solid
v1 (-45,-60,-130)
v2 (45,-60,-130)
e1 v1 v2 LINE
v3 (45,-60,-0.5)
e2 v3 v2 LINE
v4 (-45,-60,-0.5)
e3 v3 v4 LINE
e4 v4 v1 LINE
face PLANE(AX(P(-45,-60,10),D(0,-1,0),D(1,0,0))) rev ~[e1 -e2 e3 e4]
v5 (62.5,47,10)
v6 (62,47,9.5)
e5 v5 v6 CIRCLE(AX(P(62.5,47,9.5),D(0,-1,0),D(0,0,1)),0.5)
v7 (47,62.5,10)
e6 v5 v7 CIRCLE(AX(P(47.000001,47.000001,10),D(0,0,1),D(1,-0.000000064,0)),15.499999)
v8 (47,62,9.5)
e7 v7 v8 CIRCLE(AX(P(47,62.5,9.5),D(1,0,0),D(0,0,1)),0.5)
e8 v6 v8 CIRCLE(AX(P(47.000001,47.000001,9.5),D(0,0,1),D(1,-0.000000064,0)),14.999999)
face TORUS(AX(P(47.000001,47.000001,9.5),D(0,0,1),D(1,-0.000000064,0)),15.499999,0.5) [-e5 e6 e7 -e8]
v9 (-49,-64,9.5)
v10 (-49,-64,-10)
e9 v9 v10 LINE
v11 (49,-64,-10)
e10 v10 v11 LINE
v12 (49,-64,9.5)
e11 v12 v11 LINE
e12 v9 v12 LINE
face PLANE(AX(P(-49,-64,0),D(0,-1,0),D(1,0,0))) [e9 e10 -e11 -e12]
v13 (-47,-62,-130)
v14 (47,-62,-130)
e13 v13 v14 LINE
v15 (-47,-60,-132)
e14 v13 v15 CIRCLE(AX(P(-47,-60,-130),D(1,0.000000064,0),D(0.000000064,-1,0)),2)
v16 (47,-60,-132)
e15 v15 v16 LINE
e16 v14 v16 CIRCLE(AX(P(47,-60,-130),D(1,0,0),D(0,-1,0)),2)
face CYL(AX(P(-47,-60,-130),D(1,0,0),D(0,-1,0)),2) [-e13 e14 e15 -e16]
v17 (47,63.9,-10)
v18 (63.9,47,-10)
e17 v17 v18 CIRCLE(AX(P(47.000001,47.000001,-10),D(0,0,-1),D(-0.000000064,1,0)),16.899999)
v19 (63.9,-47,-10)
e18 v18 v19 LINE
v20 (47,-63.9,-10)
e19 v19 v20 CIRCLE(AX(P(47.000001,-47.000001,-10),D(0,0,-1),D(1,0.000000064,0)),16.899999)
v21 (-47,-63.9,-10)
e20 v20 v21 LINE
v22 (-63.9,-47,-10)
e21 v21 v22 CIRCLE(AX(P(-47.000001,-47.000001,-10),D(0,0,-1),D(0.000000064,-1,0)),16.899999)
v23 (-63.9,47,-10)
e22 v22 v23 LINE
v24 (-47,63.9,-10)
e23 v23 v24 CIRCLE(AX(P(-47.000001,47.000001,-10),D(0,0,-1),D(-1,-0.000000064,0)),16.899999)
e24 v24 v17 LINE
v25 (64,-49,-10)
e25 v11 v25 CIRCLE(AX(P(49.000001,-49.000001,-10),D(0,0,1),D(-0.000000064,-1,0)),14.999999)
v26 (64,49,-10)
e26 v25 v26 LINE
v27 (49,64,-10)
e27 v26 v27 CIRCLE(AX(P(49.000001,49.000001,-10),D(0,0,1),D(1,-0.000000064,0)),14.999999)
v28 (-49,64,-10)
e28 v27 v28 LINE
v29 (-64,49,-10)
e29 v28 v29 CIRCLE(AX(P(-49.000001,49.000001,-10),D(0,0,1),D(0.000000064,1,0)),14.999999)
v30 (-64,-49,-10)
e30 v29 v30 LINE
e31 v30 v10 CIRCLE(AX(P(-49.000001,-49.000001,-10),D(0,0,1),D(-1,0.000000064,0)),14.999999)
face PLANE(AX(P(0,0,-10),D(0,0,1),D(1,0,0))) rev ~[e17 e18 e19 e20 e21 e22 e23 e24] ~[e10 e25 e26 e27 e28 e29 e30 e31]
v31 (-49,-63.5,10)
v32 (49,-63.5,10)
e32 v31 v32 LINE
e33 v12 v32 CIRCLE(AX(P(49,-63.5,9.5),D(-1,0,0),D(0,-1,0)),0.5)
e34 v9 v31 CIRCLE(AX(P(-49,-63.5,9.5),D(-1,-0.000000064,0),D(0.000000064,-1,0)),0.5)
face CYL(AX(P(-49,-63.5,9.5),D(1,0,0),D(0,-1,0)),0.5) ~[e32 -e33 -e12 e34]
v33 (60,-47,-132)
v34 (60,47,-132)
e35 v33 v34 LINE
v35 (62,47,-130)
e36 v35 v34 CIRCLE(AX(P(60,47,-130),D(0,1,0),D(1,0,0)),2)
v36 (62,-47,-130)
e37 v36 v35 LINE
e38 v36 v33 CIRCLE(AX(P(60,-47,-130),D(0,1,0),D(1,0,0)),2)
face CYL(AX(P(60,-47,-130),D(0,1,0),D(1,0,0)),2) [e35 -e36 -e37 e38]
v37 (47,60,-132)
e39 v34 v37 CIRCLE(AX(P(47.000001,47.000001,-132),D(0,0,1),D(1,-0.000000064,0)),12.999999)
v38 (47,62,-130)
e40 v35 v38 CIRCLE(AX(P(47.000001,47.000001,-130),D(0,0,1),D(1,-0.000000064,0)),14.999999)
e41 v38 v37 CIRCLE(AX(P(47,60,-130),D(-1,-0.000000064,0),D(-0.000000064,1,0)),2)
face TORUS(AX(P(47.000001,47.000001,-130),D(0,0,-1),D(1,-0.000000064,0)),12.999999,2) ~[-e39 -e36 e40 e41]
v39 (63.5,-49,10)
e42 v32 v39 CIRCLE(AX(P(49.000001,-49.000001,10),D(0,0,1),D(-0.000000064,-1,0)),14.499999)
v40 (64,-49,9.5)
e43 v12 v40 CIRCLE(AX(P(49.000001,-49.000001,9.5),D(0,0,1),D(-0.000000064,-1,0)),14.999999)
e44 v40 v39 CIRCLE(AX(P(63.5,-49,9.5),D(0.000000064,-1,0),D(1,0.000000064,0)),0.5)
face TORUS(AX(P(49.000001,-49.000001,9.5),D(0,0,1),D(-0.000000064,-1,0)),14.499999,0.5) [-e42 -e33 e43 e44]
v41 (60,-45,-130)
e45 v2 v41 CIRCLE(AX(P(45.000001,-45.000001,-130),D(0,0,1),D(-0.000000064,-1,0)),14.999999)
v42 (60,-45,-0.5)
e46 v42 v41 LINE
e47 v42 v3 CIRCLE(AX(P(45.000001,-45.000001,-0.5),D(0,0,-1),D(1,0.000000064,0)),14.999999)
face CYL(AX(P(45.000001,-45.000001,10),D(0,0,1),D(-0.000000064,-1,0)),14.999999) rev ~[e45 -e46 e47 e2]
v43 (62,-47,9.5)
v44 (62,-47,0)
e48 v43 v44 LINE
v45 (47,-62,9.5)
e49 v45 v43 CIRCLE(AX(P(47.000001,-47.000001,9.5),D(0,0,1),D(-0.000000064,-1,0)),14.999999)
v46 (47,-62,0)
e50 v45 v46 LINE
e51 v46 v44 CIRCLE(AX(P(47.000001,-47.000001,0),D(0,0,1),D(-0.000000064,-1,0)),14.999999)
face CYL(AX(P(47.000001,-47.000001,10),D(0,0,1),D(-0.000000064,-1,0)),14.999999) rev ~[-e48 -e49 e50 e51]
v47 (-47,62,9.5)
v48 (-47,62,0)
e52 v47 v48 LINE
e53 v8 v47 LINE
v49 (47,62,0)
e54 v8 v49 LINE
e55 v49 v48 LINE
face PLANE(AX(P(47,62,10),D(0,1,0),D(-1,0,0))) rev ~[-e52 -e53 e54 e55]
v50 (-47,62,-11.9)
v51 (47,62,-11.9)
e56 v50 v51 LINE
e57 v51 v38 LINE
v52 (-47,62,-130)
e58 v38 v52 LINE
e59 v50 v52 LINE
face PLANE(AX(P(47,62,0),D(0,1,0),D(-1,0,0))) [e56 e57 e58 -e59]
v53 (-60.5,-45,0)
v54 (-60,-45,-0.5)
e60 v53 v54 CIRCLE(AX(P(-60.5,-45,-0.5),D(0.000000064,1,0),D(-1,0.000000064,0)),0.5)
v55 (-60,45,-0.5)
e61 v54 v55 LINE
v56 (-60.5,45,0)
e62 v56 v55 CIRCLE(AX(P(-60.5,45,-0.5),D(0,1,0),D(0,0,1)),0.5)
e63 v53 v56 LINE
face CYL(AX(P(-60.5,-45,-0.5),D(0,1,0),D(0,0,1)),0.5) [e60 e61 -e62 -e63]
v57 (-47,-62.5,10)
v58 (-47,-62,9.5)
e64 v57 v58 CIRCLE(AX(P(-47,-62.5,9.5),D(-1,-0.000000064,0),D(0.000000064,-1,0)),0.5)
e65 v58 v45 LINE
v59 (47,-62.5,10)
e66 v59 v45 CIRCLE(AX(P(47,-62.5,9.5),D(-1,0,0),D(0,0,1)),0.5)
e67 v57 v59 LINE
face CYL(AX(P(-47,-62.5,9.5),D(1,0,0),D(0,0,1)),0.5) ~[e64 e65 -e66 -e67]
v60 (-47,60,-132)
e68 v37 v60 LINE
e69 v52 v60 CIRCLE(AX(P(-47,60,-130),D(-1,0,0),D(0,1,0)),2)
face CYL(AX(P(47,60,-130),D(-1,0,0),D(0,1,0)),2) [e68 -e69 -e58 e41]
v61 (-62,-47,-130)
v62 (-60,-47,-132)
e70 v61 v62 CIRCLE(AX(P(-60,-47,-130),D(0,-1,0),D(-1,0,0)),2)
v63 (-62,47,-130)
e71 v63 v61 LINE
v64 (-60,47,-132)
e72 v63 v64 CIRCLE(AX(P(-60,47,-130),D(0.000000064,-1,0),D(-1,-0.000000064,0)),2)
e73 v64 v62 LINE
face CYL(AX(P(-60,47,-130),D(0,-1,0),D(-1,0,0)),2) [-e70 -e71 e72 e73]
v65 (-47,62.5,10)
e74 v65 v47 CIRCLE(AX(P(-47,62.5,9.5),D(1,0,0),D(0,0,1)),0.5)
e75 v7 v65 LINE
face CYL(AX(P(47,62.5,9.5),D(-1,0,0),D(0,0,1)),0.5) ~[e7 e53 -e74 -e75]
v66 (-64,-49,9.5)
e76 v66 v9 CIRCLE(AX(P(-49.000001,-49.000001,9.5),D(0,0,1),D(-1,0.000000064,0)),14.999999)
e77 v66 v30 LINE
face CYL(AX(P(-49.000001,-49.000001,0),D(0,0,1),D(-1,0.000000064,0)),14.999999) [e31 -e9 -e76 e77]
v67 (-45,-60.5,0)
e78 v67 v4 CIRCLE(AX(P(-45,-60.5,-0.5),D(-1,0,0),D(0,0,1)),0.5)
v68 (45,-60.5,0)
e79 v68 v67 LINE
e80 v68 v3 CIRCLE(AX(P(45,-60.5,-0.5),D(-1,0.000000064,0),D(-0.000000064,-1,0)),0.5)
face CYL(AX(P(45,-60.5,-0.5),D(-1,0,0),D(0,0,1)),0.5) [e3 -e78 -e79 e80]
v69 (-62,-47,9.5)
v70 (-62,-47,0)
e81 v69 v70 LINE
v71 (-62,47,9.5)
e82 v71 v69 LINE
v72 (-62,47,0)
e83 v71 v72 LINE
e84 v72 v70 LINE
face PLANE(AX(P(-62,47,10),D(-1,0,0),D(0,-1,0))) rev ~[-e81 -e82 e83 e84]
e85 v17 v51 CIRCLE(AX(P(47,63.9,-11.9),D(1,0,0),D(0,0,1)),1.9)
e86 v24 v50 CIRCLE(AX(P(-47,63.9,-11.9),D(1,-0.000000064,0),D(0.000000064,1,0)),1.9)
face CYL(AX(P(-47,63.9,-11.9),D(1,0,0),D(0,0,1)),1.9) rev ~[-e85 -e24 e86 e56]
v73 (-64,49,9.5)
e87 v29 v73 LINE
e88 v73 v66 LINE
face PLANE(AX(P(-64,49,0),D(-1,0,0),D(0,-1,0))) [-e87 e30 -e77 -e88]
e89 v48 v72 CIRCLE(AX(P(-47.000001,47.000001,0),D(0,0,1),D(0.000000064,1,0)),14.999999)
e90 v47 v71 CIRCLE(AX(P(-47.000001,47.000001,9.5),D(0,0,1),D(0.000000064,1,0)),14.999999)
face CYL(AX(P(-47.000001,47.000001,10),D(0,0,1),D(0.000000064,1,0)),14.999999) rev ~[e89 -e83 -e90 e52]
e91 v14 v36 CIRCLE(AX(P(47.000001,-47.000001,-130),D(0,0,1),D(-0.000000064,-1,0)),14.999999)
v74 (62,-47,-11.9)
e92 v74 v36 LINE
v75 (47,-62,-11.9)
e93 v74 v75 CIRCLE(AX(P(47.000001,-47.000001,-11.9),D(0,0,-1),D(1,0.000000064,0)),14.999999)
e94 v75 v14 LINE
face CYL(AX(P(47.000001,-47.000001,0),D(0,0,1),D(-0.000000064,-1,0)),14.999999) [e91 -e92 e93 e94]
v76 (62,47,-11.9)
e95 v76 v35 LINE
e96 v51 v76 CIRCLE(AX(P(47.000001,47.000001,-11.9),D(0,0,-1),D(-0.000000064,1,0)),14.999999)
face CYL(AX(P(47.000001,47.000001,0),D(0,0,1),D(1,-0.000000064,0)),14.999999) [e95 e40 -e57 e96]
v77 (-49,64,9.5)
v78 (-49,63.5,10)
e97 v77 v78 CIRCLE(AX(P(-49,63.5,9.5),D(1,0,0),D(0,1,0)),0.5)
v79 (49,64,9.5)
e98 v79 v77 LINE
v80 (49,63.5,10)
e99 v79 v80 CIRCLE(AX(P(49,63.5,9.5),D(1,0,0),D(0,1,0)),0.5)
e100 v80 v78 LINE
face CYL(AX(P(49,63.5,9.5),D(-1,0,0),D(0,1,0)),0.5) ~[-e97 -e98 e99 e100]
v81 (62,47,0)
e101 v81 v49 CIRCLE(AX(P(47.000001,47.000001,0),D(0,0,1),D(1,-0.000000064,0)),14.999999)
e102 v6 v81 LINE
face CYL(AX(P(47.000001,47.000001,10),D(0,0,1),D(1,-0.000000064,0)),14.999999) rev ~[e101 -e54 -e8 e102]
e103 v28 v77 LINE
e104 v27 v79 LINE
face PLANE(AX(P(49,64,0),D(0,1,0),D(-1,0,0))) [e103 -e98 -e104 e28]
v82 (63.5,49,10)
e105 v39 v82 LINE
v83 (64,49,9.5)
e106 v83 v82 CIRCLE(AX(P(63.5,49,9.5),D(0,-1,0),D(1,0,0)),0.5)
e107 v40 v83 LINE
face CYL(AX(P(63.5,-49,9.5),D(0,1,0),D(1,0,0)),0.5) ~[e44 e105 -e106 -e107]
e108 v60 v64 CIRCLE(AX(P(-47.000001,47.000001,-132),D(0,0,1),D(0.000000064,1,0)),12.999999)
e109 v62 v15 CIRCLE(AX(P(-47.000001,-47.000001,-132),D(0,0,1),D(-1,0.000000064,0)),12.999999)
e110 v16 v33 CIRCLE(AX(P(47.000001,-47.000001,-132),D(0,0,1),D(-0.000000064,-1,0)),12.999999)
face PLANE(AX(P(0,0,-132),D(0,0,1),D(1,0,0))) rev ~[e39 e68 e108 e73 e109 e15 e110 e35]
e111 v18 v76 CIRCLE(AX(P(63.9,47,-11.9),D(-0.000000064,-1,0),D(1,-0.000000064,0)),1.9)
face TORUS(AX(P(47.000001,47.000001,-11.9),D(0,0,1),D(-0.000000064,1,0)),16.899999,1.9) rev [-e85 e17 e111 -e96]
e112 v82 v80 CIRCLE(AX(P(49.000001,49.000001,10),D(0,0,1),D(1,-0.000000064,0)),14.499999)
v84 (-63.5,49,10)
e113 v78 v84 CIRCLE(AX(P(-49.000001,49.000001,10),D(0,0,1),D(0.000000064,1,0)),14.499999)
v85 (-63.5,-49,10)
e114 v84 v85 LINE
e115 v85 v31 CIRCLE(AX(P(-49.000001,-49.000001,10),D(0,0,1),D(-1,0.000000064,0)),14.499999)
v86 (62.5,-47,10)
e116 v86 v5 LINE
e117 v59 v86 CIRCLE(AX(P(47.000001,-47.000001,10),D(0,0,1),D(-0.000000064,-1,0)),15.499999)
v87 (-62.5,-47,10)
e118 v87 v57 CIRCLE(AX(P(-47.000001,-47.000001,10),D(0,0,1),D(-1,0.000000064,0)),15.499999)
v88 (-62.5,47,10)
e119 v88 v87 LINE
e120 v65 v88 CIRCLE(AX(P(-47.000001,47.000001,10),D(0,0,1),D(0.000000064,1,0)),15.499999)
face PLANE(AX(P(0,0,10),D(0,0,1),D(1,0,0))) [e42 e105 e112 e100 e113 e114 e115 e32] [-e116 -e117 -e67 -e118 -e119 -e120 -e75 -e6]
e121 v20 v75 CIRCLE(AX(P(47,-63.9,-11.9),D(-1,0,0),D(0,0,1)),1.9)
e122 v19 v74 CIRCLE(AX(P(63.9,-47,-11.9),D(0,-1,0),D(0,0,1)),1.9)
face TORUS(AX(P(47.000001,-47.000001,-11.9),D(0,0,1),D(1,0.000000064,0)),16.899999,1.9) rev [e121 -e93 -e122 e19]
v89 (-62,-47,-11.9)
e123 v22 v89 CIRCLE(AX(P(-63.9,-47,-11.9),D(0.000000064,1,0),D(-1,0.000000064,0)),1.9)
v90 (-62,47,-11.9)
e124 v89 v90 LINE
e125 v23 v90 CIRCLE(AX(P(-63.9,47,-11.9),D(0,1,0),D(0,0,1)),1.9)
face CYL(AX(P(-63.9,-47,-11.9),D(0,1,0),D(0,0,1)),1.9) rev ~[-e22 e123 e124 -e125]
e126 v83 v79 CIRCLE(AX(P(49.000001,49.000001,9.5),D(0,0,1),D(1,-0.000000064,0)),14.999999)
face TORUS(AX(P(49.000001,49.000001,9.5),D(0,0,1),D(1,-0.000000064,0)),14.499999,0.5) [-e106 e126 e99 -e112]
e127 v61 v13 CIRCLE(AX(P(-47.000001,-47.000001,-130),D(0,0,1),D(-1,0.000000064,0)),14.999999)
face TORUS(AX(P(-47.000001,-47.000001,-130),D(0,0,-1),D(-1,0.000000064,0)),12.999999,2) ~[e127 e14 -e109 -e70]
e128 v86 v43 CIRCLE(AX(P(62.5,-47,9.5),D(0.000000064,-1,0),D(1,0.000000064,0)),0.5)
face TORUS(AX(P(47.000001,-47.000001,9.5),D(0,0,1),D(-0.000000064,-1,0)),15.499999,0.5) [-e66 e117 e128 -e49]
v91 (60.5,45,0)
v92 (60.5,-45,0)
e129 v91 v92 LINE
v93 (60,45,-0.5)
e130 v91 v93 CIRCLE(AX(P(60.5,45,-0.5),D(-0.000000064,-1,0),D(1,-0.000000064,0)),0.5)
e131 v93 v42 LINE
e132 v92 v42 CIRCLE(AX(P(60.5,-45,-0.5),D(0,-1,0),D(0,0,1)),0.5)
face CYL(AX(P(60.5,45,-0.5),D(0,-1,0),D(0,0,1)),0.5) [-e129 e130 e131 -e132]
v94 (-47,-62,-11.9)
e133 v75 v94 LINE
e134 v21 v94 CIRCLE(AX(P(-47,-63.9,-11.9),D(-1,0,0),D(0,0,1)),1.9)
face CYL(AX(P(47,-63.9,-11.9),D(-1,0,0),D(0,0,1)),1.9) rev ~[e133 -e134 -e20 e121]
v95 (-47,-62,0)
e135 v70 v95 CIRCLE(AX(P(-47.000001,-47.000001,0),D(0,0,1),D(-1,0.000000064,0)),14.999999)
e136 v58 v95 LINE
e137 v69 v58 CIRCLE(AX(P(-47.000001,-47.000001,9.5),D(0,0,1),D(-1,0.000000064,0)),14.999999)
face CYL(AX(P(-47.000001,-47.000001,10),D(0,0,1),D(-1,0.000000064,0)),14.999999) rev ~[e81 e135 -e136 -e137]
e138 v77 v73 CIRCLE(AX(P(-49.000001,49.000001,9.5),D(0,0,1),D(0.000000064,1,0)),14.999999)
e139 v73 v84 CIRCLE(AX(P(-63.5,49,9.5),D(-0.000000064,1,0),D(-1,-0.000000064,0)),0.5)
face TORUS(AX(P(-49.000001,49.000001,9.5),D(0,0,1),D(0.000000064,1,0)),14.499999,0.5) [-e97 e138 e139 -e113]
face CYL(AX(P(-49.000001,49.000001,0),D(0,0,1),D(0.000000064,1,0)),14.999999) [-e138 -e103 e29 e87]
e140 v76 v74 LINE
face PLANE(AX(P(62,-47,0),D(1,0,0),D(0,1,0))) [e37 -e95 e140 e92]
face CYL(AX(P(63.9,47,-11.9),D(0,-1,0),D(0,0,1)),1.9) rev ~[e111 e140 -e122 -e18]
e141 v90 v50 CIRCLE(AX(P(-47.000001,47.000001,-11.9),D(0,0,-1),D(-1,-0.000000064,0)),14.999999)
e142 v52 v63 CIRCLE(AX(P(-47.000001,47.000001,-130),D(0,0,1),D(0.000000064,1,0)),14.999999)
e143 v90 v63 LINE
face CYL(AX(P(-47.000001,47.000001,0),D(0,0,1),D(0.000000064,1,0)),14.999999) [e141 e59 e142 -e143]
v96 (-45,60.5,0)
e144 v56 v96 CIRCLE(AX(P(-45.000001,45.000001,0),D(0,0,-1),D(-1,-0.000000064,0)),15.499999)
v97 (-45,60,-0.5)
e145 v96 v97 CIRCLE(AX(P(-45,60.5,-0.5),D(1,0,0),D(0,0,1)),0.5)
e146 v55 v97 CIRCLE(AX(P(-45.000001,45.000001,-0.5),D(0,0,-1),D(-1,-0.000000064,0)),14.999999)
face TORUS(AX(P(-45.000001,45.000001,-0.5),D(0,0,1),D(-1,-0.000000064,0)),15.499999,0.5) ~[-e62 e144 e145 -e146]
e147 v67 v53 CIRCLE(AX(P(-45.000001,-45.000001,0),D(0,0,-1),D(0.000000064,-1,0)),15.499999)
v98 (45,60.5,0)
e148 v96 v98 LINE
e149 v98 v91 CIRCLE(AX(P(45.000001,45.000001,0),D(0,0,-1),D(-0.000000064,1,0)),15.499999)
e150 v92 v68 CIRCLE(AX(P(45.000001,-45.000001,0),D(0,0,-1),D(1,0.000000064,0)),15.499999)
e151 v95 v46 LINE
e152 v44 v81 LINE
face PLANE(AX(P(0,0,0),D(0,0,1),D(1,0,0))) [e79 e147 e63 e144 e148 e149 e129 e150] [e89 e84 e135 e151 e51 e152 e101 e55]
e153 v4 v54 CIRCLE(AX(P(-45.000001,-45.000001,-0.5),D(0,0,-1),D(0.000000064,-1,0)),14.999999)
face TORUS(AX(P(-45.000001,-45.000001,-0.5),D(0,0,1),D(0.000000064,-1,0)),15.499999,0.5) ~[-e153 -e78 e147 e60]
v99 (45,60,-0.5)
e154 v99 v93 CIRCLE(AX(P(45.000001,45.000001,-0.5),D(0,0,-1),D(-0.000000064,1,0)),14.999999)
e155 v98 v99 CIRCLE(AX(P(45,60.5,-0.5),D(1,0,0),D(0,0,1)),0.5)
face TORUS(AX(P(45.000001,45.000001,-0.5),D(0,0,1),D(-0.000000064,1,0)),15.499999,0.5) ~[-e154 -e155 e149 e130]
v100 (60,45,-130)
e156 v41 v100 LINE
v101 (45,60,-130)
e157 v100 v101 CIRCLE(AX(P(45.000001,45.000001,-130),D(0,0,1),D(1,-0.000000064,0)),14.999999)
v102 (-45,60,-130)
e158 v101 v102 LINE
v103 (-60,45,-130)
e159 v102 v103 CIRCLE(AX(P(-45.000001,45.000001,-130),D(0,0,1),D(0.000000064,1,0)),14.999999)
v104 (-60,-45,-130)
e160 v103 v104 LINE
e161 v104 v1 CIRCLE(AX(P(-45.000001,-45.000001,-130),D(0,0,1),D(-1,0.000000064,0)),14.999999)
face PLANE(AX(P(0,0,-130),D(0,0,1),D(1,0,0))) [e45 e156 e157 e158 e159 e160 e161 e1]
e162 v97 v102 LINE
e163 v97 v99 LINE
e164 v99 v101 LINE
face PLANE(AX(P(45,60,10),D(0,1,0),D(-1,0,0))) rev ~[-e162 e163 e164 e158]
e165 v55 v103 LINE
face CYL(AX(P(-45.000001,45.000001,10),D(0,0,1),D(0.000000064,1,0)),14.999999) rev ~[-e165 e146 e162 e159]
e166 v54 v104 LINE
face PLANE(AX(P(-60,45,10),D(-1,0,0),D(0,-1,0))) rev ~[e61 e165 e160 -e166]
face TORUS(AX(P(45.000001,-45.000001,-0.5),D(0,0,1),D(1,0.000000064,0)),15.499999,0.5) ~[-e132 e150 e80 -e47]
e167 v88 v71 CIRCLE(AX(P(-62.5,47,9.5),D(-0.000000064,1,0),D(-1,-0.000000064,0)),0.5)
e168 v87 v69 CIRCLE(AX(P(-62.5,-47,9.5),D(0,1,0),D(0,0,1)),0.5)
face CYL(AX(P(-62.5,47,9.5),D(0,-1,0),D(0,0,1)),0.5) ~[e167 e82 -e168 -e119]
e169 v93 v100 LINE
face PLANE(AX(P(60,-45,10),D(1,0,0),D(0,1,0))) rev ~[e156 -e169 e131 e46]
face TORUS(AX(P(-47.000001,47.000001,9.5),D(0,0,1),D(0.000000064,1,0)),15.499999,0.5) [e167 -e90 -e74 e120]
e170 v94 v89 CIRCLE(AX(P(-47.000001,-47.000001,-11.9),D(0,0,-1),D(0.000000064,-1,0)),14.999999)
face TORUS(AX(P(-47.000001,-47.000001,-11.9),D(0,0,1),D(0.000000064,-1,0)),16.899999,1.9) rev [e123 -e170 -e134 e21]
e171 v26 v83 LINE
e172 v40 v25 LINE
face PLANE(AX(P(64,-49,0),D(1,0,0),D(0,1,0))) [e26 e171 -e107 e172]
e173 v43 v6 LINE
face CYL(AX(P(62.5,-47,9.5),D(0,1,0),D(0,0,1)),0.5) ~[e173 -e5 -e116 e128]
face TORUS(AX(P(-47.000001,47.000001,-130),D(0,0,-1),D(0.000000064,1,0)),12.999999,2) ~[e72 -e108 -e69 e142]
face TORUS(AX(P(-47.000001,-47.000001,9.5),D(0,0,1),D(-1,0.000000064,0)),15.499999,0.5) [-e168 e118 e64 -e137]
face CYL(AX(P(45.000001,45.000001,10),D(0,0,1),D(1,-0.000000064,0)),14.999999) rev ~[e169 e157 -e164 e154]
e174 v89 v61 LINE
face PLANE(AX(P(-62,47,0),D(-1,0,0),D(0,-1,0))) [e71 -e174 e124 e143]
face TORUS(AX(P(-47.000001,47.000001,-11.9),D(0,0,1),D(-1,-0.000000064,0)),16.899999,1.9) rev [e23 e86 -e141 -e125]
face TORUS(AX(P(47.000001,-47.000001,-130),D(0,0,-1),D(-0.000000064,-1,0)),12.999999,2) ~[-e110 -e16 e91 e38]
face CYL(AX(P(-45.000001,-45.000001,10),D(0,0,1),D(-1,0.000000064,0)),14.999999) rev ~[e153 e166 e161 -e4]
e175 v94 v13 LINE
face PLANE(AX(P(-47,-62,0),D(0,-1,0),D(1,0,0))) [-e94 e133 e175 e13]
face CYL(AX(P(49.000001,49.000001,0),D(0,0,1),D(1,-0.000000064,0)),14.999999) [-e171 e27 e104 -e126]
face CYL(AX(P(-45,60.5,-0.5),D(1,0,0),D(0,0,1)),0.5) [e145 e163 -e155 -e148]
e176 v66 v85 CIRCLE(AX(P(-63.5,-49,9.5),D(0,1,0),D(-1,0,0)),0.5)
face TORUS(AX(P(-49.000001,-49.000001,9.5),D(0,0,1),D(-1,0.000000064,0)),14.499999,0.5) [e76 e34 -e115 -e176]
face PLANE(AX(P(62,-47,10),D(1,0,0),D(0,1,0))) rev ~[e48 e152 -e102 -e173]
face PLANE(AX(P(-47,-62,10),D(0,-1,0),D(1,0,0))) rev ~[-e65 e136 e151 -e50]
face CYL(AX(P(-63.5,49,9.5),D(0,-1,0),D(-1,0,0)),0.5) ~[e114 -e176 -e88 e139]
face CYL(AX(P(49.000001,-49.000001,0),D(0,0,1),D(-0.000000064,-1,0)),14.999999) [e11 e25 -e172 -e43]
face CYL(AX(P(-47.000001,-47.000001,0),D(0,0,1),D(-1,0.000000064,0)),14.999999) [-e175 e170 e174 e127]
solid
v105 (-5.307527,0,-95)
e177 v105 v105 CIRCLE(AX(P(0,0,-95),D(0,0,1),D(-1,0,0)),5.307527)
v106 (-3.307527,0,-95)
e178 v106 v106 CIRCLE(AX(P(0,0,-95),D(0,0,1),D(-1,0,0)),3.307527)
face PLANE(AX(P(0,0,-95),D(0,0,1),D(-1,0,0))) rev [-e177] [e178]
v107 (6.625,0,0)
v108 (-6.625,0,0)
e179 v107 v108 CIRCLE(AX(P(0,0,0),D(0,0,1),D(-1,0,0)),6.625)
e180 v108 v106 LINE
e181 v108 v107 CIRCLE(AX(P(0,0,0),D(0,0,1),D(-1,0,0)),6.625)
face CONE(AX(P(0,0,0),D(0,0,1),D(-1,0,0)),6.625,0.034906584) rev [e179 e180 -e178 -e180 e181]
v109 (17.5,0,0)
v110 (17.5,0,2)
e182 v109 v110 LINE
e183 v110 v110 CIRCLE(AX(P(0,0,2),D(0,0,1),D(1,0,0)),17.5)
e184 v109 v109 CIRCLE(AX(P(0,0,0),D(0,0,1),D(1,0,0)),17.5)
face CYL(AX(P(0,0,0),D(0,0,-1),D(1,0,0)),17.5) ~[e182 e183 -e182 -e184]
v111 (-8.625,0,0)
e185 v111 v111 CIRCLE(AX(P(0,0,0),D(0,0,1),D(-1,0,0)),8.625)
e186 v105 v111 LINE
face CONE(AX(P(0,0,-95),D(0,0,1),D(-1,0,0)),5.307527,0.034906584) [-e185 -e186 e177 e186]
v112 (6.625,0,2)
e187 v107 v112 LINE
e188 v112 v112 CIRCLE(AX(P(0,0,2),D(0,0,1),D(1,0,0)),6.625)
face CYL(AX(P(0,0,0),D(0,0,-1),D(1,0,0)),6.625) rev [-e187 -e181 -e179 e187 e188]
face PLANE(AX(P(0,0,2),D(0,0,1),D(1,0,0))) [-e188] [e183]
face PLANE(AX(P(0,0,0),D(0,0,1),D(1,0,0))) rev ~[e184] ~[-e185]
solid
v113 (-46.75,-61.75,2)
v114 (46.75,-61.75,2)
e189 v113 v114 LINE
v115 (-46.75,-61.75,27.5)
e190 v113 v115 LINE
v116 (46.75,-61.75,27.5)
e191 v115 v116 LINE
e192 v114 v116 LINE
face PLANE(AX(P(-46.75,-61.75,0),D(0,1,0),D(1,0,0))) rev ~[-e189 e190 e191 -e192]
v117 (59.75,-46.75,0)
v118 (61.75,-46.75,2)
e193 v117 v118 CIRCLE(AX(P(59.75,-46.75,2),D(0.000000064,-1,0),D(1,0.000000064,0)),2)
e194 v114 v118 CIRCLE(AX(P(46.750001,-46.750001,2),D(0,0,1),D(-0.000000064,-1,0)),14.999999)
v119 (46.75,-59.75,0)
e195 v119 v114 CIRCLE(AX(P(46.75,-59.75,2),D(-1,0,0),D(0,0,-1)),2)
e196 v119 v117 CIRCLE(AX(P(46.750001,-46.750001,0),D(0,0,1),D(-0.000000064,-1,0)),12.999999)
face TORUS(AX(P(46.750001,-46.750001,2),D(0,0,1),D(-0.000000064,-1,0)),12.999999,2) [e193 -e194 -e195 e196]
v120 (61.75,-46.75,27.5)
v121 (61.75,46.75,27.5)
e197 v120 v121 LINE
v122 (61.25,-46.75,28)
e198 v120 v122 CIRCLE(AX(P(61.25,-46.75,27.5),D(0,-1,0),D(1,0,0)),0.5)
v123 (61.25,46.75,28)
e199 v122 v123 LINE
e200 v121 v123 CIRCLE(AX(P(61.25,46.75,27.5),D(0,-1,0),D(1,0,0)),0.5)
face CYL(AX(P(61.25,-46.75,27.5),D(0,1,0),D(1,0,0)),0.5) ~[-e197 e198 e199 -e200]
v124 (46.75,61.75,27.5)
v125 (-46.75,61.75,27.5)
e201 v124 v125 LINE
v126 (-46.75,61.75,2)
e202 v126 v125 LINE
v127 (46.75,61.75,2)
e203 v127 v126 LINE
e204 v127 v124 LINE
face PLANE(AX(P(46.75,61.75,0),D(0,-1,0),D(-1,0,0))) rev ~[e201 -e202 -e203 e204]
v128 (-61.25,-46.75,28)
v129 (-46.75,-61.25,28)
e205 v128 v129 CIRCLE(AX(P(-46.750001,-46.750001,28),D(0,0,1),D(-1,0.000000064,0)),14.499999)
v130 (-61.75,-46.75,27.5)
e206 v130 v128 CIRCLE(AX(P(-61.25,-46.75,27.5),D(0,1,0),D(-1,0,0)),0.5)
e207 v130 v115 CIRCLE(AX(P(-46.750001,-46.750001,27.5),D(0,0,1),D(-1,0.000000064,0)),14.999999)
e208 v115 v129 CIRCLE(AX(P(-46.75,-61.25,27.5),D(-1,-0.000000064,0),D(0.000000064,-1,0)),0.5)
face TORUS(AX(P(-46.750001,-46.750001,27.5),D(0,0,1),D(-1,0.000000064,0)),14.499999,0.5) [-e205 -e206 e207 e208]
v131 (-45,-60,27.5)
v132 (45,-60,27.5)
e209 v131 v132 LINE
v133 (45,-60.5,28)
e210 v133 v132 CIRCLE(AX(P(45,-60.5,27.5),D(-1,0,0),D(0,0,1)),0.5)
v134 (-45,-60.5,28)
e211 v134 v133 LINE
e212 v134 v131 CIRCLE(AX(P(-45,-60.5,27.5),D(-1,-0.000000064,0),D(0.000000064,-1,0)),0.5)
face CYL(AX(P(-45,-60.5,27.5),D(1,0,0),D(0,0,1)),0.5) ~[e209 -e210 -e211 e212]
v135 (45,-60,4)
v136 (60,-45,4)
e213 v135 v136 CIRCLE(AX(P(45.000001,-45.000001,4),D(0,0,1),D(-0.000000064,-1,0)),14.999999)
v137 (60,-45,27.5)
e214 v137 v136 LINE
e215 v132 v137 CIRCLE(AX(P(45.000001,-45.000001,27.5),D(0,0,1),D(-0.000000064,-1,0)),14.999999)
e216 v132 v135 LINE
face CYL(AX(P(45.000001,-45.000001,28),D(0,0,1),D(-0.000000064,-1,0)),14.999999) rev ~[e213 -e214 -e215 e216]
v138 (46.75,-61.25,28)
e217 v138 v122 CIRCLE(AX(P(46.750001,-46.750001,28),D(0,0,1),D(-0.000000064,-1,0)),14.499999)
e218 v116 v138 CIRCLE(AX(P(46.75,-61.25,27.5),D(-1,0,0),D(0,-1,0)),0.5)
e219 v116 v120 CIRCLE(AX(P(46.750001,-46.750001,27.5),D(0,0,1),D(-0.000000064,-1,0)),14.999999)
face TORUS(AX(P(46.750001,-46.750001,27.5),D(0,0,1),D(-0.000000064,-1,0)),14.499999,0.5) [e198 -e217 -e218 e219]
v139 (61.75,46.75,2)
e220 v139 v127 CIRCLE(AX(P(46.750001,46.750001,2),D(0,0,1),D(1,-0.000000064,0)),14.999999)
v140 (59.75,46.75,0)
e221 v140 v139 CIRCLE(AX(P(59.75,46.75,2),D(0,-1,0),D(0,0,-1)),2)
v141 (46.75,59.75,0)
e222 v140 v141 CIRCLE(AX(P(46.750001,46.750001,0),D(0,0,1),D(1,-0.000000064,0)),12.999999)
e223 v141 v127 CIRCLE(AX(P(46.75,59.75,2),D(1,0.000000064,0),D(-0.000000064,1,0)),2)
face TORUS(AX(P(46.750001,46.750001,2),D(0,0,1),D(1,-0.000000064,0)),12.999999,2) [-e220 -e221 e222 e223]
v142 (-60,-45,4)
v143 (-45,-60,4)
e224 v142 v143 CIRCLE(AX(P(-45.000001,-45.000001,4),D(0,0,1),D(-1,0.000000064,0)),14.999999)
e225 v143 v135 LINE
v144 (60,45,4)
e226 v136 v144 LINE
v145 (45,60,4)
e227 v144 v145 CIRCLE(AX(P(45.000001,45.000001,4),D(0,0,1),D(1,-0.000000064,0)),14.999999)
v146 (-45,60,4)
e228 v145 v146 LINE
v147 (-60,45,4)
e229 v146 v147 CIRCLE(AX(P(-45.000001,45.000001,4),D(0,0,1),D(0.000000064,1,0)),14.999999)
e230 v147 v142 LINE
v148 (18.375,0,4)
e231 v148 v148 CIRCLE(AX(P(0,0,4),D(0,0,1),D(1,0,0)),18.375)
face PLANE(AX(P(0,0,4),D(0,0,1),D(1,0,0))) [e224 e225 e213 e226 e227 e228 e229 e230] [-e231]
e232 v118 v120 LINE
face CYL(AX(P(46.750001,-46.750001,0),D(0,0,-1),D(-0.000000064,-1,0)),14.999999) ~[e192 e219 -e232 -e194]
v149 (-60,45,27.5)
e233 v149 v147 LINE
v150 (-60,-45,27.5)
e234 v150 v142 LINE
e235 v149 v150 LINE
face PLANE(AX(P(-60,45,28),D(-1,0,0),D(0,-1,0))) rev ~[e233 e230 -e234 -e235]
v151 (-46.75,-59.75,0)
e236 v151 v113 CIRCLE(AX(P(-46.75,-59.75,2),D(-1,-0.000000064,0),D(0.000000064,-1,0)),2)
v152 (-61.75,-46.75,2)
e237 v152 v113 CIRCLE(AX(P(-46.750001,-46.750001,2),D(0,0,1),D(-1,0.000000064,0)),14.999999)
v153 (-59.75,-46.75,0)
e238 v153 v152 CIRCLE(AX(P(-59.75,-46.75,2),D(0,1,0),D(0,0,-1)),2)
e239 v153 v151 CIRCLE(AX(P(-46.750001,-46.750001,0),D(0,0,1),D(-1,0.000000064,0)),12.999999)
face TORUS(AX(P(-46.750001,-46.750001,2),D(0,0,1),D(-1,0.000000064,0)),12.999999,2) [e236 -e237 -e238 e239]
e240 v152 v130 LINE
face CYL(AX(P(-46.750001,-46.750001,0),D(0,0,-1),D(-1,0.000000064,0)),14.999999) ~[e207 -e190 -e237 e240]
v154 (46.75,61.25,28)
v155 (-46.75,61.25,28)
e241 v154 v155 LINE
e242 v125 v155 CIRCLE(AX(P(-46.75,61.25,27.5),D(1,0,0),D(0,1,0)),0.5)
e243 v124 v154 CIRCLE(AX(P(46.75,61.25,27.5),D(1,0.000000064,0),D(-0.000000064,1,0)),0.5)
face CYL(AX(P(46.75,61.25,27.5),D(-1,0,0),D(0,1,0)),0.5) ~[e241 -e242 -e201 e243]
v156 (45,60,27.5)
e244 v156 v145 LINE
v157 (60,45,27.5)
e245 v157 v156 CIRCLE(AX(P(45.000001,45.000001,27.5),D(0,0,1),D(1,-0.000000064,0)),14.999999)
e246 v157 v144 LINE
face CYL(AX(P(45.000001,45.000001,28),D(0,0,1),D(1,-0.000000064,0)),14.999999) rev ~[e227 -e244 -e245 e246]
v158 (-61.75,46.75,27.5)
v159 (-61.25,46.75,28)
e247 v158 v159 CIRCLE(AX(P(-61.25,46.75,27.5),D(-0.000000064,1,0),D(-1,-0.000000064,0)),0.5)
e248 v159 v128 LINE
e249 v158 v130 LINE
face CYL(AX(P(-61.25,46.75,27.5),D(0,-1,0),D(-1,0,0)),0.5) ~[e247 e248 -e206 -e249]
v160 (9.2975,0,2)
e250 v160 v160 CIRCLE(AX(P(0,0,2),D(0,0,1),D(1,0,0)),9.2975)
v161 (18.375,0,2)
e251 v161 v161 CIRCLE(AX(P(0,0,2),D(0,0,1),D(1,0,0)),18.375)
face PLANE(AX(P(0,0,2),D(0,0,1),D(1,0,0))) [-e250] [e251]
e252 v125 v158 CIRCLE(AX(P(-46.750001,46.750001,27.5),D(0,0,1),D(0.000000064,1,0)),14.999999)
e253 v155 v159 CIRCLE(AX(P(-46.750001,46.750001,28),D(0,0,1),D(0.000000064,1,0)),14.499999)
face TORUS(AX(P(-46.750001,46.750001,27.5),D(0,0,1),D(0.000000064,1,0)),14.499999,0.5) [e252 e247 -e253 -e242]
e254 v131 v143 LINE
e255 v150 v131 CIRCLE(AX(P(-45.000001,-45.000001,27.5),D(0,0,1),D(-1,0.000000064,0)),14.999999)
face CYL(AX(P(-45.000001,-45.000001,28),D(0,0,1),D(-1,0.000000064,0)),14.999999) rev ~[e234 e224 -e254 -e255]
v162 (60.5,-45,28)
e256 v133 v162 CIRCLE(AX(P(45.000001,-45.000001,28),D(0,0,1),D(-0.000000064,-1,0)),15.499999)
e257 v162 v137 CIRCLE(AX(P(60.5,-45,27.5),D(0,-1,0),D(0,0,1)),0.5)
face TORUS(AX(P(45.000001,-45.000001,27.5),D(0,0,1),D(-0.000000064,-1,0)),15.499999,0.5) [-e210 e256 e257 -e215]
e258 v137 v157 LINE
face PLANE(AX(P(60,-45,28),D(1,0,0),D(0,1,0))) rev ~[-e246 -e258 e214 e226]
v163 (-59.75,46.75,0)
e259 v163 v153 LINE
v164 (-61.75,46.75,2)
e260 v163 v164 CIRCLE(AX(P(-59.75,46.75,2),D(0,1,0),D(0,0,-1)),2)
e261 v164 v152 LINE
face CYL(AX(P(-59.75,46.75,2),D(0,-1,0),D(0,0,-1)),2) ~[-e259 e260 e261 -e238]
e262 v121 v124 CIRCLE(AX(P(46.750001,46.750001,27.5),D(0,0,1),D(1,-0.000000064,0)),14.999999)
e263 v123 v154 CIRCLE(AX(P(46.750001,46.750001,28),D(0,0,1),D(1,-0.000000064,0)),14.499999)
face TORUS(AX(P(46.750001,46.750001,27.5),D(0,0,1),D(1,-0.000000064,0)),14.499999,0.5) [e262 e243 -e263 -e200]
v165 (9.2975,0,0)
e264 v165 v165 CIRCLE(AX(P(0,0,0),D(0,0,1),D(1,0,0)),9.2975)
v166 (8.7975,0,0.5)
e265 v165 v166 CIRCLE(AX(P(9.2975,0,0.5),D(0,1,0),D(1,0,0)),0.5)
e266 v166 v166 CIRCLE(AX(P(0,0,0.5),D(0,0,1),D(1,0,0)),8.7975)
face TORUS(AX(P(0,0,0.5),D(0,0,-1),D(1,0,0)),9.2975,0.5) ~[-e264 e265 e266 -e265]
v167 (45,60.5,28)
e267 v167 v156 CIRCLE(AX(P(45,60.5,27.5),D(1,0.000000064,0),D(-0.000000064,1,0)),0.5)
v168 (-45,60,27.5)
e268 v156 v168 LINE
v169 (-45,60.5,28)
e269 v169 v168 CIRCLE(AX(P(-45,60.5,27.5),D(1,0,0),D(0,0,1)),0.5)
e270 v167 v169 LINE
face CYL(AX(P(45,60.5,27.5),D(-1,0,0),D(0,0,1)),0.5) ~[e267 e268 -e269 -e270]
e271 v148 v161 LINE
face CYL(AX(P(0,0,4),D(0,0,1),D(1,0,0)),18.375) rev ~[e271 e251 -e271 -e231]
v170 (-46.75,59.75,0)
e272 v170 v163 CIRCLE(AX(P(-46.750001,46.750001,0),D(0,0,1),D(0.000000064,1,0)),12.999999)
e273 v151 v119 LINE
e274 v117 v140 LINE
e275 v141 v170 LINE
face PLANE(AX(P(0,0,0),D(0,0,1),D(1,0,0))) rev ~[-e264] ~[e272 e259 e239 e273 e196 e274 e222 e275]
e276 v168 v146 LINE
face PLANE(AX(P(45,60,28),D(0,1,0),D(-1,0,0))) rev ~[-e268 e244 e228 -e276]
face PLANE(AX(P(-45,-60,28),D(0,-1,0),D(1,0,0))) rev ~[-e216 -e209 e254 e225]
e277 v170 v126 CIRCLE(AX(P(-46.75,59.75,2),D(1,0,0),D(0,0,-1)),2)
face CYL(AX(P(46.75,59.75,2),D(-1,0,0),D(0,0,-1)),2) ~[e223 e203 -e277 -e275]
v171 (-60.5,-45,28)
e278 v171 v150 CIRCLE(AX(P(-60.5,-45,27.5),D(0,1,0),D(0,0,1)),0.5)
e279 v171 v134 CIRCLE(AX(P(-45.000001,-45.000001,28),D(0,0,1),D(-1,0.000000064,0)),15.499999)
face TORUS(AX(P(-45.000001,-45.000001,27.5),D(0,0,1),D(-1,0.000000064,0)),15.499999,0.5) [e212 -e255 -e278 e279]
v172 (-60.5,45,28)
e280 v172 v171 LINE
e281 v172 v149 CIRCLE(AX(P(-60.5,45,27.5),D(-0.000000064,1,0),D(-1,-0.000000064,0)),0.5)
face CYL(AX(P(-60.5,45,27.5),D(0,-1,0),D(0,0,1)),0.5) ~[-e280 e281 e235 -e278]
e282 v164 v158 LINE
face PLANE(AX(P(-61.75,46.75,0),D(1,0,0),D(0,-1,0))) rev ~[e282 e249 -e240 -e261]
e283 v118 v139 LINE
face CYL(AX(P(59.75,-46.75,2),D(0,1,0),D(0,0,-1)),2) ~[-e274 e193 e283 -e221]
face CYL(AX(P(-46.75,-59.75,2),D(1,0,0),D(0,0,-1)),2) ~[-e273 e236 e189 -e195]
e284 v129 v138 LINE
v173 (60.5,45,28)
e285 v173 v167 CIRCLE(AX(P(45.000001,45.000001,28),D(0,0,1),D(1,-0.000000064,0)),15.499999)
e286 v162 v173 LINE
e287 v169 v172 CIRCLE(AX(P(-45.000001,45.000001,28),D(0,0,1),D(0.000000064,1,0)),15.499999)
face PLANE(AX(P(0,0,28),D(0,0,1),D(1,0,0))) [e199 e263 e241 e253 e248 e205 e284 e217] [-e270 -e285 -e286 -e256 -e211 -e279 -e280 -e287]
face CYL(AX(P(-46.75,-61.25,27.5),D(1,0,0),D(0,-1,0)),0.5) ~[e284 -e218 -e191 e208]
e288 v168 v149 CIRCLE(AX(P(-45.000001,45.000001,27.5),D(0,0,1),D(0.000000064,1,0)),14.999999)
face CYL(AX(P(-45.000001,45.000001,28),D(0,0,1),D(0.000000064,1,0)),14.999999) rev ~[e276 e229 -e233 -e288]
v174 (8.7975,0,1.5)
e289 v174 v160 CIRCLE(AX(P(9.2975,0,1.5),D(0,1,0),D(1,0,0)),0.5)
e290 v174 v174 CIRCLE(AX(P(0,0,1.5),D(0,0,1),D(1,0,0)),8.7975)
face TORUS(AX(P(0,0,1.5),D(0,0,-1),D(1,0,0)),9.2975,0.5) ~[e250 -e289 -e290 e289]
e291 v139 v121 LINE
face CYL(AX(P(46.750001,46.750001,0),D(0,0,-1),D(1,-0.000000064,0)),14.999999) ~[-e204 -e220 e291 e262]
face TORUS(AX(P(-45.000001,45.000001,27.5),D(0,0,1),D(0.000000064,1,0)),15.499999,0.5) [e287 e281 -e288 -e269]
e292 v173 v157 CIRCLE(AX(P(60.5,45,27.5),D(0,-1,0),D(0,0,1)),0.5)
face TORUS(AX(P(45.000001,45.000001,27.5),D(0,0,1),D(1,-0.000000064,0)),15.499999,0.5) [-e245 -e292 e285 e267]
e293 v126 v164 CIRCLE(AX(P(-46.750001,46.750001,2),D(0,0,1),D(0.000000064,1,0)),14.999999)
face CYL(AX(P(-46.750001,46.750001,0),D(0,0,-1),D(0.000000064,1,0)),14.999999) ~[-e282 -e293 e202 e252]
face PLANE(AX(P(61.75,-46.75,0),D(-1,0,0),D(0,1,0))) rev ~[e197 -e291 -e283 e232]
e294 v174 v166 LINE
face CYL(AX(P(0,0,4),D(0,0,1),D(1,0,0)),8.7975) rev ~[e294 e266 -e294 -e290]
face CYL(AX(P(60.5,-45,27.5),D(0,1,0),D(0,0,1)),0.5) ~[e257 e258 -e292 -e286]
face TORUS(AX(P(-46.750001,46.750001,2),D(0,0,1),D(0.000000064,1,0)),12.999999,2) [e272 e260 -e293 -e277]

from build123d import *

# Parameters (mm, degrees)
SKETCH001_R       = 17.5
SKETCH001_R_2     = 6.625
PAD_DEPTH         = 2
PAD001_DEPTH      = 28
POCKET_DEPTH      = 24
SKETCH004_R       = 8.7975
POCKET001_DEPTH   = 4
SKETCH005_R       = 18.375
POCKET002_DEPTH   = 2
FILLET003_R       = 0.5
FILLET004_R       = 2
FILLET005_R       = 0.5
PAD002_DEPTH      = 132
PAD003_DEPTH      = 10
PAD003_DEPTH_BACK = 10
POCKET003_DEPTH   = 140
POCKET004_DEPTH   = 10
FILLET_R          = 1.9
FILLET001_R       = 2
FILLET002_R       = 0.5


with BuildPart() as cone_body:
    # Sketch → Revolution (revolve)
    with BuildSketch(Plane.XZ):
        Polygon((-6.625, 0), (-3.307527, -95), (-5.307527, -95), (-8.625, 0), align=None)
    revolve(axis=Axis((0, 0, 0), (0, 0, 1)))

    # Sketch001 → Pad (new body)
    with BuildSketch(Plane.XY):
        Circle(SKETCH001_R)
        Circle(SKETCH001_R_2, mode=Mode.SUBTRACT)
    extrude(amount=PAD_DEPTH)


with BuildPart() as tray:
    # Sketch002 → Pad001 (new body)
    with BuildSketch(Plane.XY):
        with BuildLine():
            Line((61.75, -46.75), (61.75, 46.75))
            ThreePointArc((61.75, 46.75), (57.356602, 57.356602), (46.75, 61.75))
            Line((46.75, 61.75), (-46.75, 61.75))
            ThreePointArc((-46.75, 61.75), (-57.356602, 57.356602), (-61.75, 46.75))
            Line((-61.75, 46.75), (-61.75, -46.75))
            ThreePointArc((-61.75, -46.75), (-57.356602, -57.356602), (-46.75, -61.75))
            Line((-46.75, -61.75), (46.75, -61.75))
            ThreePointArc((46.75, -61.75), (57.356602, -57.356602), (61.75, -46.75))
        make_face()
    extrude(amount=PAD001_DEPTH)

    # Sketch003 (on Face10 of Pad001) → Pocket (cut)
    with BuildSketch(Plane.XY.offset(28)):
        with BuildLine():
            Line((60, -45), (60, 45))
            ThreePointArc((60, 45), (55.606602, 55.606602), (45, 60))
            Line((45, 60), (-45, 60))
            ThreePointArc((-45, 60), (-55.606602, 55.606602), (-60, 45))
            Line((-60, 45), (-60, -45))
            ThreePointArc((-60, -45), (-55.606602, -55.606602), (-45, -60))
            Line((-45, -60), (45, -60))
            ThreePointArc((45, -60), (55.606602, -55.606602), (60, -45))
        make_face()
    extrude(amount=-POCKET_DEPTH, mode=Mode.SUBTRACT)

    # Sketch004 (on Face19 of Pocket) → Pocket001 (cut)
    with BuildSketch(Plane.XY.offset(4)):
        Circle(SKETCH004_R)
    extrude(amount=-POCKET001_DEPTH, mode=Mode.SUBTRACT)

    # Sketch005 (on Face20 of Pocket001) → Pocket002 (cut)
    with BuildSketch(Plane.XY.offset(4)):
        Circle(SKETCH005_R)
    extrude(amount=-POCKET002_DEPTH, mode=Mode.SUBTRACT)

    # Fillet003
    fillet003_edges = [tray.edges().sort_by_distance(p)[0] for p in [
        (61.75, 0, 28),
        (57.356602, -57.356602, 28),
        (57.356602, 57.356602, 28),
        (0, -61.75, 28),
        (0, 61.75, 28),
        (-57.356602, -57.356602, 28),
        (-57.356602, 57.356602, 28),
        (-61.75, 0, 28),
        (60, 0, 28),
        (55.606602, 55.606602, 28),
        (0, 60, 28),
        (-55.606602, 55.606602, 28),
        (-60, 0, 28),
        (-55.606602, -55.606602, 28),
        (0, -60, 28),
        (55.606602, -55.606602, 28),
    ]]
    fillet(fillet003_edges, radius=FILLET003_R)

    # Fillet004
    fillet004_edges = [tray.edges().sort_by_distance(p)[0] for p in [
        (-61.75, 0, 0),
    ]]
    fillet(fillet004_edges, radius=FILLET004_R)

    # Fillet005
    fillet005_edges = [tray.edges().sort_by_distance(p)[0] for p in [
        (-8.7975, 0, 2),
        (-8.7975, 0, 0),
    ]]
    fillet(fillet005_edges, radius=FILLET005_R)


with BuildPart() as base:
    # Sketch006 → Pad002 (new body)
    with BuildSketch(Plane.XY):
        with BuildLine():
            Line((62, -47), (62, 47))
            ThreePointArc((62, 47), (57.606602, 57.606602), (47, 62))
            Line((47, 62), (-47, 62))
            ThreePointArc((-47, 62), (-57.606602, 57.606602), (-62, 47))
            Line((-62, 47), (-62, -47))
            ThreePointArc((-62, -47), (-57.606602, -57.606602), (-47, -62))
            Line((-47, -62), (47, -62))
            ThreePointArc((47, -62), (57.606602, -57.606602), (62, -47))
        make_face()
    extrude(amount=-PAD002_DEPTH)

    # Sketch007 (on Face9 of Pad002) → Pad003 (join, two sides)
    with BuildSketch(Plane.XY) as pad003_sk:
        with BuildLine():
            Line((64, -49), (64, 49))
            ThreePointArc((64, 49), (59.606602, 59.606602), (49, 64))
            Line((49, 64), (-49, 64))
            ThreePointArc((-49, 64), (-59.606602, 59.606602), (-64, 49))
            Line((-64, 49), (-64, -49))
            ThreePointArc((-64, -49), (-59.606602, -59.606602), (-49, -64))
            Line((-49, -64), (49, -64))
            ThreePointArc((49, -64), (59.606602, -59.606602), (64, -49))
        make_face()
    extrude(amount=PAD003_DEPTH)
    extrude(pad003_sk.sketch, amount=-PAD003_DEPTH_BACK)

    # Sketch008 (on Face19 of Pad003) → Pocket003 (cut)
    with BuildSketch(Plane.XY.offset(10)):
        with BuildLine():
            Line((60, -45), (60, 45))
            ThreePointArc((60, 45), (55.606602, 55.606602), (45, 60))
            Line((45, 60), (-45, 60))
            ThreePointArc((-45, 60), (-55.606602, 55.606602), (-60, 45))
            Line((-60, 45), (-60, -45))
            ThreePointArc((-60, -45), (-55.606602, -55.606602), (-45, -60))
            Line((-45, -60), (45, -60))
            ThreePointArc((45, -60), (55.606602, -55.606602), (60, -45))
        make_face()
    extrude(amount=-POCKET003_DEPTH, mode=Mode.SUBTRACT)

    # Sketch009 (on Face19 of Pocket003) → Pocket004 (cut)
    with BuildSketch(Plane.XY.offset(10)):
        with BuildLine():
            Line((62, -47), (62, 47))
            ThreePointArc((62, 47), (57.606602, 57.606602), (47, 62))
            Line((47, 62), (-47, 62))
            ThreePointArc((-47, 62), (-57.606602, 57.606602), (-62, 47))
            Line((-62, 47), (-62, -47))
            ThreePointArc((-62, -47), (-57.606602, -57.606602), (-47, -62))
            Line((-47, -62), (47, -62))
            ThreePointArc((47, -62), (57.606602, -57.606602), (62, -47))
        make_face()
    extrude(amount=-POCKET004_DEPTH, mode=Mode.SUBTRACT)

    # Fillet
    fillet_edges = [base.edges().sort_by_distance(p)[0] for p in [
        (0, -62, -10),
        (-57.606602, -57.606602, -10),
        (-62, 0, -10),
        (-57.606602, 57.606602, -10),
        (0, 62, -10),
        (57.606602, 57.606602, -10),
        (62, 0, -10),
        (57.606602, -57.606602, -10),
    ]]
    fillet(fillet_edges, radius=FILLET_R)

    # Fillet001
    fillet001_edges = [base.edges().sort_by_distance(p)[0] for p in [
        (62, 0, -132),
        (57.606602, 57.606602, -132),
        (0, 62, -132),
        (-57.606602, 57.606602, -132),
        (-62, 0, -132),
        (-57.606602, -57.606602, -132),
        (0, -62, -132),
        (57.606602, -57.606602, -132),
    ]]
    fillet(fillet001_edges, radius=FILLET001_R)

    # Fillet002
    fillet002_edges = [base.edges().sort_by_distance(p)[0] for p in [
        (0, 60, 0),
        (0, 62, 10),
        (-55.606602, 55.606602, 0),
        (-57.606602, 57.606602, 10),
        (-60, 0, 0),
        (-62, 0, 10),
        (-55.606602, -55.606602, 0),
        (-57.606602, -57.606602, 10),
        (0, -60, 0),
        (0, -62, 10),
        (55.606602, -55.606602, 0),
        (57.606602, -57.606602, 10),
        (60, 0, 0),
        (62, 0, 10),
        (55.606602, 55.606602, 0),
        (57.606602, 57.606602, 10),
        (0, 64, 10),
    ]]
    fillet(fillet002_edges, radius=FILLET002_R)


solid = Compound([cone_body.part, tray.part, base.part])
